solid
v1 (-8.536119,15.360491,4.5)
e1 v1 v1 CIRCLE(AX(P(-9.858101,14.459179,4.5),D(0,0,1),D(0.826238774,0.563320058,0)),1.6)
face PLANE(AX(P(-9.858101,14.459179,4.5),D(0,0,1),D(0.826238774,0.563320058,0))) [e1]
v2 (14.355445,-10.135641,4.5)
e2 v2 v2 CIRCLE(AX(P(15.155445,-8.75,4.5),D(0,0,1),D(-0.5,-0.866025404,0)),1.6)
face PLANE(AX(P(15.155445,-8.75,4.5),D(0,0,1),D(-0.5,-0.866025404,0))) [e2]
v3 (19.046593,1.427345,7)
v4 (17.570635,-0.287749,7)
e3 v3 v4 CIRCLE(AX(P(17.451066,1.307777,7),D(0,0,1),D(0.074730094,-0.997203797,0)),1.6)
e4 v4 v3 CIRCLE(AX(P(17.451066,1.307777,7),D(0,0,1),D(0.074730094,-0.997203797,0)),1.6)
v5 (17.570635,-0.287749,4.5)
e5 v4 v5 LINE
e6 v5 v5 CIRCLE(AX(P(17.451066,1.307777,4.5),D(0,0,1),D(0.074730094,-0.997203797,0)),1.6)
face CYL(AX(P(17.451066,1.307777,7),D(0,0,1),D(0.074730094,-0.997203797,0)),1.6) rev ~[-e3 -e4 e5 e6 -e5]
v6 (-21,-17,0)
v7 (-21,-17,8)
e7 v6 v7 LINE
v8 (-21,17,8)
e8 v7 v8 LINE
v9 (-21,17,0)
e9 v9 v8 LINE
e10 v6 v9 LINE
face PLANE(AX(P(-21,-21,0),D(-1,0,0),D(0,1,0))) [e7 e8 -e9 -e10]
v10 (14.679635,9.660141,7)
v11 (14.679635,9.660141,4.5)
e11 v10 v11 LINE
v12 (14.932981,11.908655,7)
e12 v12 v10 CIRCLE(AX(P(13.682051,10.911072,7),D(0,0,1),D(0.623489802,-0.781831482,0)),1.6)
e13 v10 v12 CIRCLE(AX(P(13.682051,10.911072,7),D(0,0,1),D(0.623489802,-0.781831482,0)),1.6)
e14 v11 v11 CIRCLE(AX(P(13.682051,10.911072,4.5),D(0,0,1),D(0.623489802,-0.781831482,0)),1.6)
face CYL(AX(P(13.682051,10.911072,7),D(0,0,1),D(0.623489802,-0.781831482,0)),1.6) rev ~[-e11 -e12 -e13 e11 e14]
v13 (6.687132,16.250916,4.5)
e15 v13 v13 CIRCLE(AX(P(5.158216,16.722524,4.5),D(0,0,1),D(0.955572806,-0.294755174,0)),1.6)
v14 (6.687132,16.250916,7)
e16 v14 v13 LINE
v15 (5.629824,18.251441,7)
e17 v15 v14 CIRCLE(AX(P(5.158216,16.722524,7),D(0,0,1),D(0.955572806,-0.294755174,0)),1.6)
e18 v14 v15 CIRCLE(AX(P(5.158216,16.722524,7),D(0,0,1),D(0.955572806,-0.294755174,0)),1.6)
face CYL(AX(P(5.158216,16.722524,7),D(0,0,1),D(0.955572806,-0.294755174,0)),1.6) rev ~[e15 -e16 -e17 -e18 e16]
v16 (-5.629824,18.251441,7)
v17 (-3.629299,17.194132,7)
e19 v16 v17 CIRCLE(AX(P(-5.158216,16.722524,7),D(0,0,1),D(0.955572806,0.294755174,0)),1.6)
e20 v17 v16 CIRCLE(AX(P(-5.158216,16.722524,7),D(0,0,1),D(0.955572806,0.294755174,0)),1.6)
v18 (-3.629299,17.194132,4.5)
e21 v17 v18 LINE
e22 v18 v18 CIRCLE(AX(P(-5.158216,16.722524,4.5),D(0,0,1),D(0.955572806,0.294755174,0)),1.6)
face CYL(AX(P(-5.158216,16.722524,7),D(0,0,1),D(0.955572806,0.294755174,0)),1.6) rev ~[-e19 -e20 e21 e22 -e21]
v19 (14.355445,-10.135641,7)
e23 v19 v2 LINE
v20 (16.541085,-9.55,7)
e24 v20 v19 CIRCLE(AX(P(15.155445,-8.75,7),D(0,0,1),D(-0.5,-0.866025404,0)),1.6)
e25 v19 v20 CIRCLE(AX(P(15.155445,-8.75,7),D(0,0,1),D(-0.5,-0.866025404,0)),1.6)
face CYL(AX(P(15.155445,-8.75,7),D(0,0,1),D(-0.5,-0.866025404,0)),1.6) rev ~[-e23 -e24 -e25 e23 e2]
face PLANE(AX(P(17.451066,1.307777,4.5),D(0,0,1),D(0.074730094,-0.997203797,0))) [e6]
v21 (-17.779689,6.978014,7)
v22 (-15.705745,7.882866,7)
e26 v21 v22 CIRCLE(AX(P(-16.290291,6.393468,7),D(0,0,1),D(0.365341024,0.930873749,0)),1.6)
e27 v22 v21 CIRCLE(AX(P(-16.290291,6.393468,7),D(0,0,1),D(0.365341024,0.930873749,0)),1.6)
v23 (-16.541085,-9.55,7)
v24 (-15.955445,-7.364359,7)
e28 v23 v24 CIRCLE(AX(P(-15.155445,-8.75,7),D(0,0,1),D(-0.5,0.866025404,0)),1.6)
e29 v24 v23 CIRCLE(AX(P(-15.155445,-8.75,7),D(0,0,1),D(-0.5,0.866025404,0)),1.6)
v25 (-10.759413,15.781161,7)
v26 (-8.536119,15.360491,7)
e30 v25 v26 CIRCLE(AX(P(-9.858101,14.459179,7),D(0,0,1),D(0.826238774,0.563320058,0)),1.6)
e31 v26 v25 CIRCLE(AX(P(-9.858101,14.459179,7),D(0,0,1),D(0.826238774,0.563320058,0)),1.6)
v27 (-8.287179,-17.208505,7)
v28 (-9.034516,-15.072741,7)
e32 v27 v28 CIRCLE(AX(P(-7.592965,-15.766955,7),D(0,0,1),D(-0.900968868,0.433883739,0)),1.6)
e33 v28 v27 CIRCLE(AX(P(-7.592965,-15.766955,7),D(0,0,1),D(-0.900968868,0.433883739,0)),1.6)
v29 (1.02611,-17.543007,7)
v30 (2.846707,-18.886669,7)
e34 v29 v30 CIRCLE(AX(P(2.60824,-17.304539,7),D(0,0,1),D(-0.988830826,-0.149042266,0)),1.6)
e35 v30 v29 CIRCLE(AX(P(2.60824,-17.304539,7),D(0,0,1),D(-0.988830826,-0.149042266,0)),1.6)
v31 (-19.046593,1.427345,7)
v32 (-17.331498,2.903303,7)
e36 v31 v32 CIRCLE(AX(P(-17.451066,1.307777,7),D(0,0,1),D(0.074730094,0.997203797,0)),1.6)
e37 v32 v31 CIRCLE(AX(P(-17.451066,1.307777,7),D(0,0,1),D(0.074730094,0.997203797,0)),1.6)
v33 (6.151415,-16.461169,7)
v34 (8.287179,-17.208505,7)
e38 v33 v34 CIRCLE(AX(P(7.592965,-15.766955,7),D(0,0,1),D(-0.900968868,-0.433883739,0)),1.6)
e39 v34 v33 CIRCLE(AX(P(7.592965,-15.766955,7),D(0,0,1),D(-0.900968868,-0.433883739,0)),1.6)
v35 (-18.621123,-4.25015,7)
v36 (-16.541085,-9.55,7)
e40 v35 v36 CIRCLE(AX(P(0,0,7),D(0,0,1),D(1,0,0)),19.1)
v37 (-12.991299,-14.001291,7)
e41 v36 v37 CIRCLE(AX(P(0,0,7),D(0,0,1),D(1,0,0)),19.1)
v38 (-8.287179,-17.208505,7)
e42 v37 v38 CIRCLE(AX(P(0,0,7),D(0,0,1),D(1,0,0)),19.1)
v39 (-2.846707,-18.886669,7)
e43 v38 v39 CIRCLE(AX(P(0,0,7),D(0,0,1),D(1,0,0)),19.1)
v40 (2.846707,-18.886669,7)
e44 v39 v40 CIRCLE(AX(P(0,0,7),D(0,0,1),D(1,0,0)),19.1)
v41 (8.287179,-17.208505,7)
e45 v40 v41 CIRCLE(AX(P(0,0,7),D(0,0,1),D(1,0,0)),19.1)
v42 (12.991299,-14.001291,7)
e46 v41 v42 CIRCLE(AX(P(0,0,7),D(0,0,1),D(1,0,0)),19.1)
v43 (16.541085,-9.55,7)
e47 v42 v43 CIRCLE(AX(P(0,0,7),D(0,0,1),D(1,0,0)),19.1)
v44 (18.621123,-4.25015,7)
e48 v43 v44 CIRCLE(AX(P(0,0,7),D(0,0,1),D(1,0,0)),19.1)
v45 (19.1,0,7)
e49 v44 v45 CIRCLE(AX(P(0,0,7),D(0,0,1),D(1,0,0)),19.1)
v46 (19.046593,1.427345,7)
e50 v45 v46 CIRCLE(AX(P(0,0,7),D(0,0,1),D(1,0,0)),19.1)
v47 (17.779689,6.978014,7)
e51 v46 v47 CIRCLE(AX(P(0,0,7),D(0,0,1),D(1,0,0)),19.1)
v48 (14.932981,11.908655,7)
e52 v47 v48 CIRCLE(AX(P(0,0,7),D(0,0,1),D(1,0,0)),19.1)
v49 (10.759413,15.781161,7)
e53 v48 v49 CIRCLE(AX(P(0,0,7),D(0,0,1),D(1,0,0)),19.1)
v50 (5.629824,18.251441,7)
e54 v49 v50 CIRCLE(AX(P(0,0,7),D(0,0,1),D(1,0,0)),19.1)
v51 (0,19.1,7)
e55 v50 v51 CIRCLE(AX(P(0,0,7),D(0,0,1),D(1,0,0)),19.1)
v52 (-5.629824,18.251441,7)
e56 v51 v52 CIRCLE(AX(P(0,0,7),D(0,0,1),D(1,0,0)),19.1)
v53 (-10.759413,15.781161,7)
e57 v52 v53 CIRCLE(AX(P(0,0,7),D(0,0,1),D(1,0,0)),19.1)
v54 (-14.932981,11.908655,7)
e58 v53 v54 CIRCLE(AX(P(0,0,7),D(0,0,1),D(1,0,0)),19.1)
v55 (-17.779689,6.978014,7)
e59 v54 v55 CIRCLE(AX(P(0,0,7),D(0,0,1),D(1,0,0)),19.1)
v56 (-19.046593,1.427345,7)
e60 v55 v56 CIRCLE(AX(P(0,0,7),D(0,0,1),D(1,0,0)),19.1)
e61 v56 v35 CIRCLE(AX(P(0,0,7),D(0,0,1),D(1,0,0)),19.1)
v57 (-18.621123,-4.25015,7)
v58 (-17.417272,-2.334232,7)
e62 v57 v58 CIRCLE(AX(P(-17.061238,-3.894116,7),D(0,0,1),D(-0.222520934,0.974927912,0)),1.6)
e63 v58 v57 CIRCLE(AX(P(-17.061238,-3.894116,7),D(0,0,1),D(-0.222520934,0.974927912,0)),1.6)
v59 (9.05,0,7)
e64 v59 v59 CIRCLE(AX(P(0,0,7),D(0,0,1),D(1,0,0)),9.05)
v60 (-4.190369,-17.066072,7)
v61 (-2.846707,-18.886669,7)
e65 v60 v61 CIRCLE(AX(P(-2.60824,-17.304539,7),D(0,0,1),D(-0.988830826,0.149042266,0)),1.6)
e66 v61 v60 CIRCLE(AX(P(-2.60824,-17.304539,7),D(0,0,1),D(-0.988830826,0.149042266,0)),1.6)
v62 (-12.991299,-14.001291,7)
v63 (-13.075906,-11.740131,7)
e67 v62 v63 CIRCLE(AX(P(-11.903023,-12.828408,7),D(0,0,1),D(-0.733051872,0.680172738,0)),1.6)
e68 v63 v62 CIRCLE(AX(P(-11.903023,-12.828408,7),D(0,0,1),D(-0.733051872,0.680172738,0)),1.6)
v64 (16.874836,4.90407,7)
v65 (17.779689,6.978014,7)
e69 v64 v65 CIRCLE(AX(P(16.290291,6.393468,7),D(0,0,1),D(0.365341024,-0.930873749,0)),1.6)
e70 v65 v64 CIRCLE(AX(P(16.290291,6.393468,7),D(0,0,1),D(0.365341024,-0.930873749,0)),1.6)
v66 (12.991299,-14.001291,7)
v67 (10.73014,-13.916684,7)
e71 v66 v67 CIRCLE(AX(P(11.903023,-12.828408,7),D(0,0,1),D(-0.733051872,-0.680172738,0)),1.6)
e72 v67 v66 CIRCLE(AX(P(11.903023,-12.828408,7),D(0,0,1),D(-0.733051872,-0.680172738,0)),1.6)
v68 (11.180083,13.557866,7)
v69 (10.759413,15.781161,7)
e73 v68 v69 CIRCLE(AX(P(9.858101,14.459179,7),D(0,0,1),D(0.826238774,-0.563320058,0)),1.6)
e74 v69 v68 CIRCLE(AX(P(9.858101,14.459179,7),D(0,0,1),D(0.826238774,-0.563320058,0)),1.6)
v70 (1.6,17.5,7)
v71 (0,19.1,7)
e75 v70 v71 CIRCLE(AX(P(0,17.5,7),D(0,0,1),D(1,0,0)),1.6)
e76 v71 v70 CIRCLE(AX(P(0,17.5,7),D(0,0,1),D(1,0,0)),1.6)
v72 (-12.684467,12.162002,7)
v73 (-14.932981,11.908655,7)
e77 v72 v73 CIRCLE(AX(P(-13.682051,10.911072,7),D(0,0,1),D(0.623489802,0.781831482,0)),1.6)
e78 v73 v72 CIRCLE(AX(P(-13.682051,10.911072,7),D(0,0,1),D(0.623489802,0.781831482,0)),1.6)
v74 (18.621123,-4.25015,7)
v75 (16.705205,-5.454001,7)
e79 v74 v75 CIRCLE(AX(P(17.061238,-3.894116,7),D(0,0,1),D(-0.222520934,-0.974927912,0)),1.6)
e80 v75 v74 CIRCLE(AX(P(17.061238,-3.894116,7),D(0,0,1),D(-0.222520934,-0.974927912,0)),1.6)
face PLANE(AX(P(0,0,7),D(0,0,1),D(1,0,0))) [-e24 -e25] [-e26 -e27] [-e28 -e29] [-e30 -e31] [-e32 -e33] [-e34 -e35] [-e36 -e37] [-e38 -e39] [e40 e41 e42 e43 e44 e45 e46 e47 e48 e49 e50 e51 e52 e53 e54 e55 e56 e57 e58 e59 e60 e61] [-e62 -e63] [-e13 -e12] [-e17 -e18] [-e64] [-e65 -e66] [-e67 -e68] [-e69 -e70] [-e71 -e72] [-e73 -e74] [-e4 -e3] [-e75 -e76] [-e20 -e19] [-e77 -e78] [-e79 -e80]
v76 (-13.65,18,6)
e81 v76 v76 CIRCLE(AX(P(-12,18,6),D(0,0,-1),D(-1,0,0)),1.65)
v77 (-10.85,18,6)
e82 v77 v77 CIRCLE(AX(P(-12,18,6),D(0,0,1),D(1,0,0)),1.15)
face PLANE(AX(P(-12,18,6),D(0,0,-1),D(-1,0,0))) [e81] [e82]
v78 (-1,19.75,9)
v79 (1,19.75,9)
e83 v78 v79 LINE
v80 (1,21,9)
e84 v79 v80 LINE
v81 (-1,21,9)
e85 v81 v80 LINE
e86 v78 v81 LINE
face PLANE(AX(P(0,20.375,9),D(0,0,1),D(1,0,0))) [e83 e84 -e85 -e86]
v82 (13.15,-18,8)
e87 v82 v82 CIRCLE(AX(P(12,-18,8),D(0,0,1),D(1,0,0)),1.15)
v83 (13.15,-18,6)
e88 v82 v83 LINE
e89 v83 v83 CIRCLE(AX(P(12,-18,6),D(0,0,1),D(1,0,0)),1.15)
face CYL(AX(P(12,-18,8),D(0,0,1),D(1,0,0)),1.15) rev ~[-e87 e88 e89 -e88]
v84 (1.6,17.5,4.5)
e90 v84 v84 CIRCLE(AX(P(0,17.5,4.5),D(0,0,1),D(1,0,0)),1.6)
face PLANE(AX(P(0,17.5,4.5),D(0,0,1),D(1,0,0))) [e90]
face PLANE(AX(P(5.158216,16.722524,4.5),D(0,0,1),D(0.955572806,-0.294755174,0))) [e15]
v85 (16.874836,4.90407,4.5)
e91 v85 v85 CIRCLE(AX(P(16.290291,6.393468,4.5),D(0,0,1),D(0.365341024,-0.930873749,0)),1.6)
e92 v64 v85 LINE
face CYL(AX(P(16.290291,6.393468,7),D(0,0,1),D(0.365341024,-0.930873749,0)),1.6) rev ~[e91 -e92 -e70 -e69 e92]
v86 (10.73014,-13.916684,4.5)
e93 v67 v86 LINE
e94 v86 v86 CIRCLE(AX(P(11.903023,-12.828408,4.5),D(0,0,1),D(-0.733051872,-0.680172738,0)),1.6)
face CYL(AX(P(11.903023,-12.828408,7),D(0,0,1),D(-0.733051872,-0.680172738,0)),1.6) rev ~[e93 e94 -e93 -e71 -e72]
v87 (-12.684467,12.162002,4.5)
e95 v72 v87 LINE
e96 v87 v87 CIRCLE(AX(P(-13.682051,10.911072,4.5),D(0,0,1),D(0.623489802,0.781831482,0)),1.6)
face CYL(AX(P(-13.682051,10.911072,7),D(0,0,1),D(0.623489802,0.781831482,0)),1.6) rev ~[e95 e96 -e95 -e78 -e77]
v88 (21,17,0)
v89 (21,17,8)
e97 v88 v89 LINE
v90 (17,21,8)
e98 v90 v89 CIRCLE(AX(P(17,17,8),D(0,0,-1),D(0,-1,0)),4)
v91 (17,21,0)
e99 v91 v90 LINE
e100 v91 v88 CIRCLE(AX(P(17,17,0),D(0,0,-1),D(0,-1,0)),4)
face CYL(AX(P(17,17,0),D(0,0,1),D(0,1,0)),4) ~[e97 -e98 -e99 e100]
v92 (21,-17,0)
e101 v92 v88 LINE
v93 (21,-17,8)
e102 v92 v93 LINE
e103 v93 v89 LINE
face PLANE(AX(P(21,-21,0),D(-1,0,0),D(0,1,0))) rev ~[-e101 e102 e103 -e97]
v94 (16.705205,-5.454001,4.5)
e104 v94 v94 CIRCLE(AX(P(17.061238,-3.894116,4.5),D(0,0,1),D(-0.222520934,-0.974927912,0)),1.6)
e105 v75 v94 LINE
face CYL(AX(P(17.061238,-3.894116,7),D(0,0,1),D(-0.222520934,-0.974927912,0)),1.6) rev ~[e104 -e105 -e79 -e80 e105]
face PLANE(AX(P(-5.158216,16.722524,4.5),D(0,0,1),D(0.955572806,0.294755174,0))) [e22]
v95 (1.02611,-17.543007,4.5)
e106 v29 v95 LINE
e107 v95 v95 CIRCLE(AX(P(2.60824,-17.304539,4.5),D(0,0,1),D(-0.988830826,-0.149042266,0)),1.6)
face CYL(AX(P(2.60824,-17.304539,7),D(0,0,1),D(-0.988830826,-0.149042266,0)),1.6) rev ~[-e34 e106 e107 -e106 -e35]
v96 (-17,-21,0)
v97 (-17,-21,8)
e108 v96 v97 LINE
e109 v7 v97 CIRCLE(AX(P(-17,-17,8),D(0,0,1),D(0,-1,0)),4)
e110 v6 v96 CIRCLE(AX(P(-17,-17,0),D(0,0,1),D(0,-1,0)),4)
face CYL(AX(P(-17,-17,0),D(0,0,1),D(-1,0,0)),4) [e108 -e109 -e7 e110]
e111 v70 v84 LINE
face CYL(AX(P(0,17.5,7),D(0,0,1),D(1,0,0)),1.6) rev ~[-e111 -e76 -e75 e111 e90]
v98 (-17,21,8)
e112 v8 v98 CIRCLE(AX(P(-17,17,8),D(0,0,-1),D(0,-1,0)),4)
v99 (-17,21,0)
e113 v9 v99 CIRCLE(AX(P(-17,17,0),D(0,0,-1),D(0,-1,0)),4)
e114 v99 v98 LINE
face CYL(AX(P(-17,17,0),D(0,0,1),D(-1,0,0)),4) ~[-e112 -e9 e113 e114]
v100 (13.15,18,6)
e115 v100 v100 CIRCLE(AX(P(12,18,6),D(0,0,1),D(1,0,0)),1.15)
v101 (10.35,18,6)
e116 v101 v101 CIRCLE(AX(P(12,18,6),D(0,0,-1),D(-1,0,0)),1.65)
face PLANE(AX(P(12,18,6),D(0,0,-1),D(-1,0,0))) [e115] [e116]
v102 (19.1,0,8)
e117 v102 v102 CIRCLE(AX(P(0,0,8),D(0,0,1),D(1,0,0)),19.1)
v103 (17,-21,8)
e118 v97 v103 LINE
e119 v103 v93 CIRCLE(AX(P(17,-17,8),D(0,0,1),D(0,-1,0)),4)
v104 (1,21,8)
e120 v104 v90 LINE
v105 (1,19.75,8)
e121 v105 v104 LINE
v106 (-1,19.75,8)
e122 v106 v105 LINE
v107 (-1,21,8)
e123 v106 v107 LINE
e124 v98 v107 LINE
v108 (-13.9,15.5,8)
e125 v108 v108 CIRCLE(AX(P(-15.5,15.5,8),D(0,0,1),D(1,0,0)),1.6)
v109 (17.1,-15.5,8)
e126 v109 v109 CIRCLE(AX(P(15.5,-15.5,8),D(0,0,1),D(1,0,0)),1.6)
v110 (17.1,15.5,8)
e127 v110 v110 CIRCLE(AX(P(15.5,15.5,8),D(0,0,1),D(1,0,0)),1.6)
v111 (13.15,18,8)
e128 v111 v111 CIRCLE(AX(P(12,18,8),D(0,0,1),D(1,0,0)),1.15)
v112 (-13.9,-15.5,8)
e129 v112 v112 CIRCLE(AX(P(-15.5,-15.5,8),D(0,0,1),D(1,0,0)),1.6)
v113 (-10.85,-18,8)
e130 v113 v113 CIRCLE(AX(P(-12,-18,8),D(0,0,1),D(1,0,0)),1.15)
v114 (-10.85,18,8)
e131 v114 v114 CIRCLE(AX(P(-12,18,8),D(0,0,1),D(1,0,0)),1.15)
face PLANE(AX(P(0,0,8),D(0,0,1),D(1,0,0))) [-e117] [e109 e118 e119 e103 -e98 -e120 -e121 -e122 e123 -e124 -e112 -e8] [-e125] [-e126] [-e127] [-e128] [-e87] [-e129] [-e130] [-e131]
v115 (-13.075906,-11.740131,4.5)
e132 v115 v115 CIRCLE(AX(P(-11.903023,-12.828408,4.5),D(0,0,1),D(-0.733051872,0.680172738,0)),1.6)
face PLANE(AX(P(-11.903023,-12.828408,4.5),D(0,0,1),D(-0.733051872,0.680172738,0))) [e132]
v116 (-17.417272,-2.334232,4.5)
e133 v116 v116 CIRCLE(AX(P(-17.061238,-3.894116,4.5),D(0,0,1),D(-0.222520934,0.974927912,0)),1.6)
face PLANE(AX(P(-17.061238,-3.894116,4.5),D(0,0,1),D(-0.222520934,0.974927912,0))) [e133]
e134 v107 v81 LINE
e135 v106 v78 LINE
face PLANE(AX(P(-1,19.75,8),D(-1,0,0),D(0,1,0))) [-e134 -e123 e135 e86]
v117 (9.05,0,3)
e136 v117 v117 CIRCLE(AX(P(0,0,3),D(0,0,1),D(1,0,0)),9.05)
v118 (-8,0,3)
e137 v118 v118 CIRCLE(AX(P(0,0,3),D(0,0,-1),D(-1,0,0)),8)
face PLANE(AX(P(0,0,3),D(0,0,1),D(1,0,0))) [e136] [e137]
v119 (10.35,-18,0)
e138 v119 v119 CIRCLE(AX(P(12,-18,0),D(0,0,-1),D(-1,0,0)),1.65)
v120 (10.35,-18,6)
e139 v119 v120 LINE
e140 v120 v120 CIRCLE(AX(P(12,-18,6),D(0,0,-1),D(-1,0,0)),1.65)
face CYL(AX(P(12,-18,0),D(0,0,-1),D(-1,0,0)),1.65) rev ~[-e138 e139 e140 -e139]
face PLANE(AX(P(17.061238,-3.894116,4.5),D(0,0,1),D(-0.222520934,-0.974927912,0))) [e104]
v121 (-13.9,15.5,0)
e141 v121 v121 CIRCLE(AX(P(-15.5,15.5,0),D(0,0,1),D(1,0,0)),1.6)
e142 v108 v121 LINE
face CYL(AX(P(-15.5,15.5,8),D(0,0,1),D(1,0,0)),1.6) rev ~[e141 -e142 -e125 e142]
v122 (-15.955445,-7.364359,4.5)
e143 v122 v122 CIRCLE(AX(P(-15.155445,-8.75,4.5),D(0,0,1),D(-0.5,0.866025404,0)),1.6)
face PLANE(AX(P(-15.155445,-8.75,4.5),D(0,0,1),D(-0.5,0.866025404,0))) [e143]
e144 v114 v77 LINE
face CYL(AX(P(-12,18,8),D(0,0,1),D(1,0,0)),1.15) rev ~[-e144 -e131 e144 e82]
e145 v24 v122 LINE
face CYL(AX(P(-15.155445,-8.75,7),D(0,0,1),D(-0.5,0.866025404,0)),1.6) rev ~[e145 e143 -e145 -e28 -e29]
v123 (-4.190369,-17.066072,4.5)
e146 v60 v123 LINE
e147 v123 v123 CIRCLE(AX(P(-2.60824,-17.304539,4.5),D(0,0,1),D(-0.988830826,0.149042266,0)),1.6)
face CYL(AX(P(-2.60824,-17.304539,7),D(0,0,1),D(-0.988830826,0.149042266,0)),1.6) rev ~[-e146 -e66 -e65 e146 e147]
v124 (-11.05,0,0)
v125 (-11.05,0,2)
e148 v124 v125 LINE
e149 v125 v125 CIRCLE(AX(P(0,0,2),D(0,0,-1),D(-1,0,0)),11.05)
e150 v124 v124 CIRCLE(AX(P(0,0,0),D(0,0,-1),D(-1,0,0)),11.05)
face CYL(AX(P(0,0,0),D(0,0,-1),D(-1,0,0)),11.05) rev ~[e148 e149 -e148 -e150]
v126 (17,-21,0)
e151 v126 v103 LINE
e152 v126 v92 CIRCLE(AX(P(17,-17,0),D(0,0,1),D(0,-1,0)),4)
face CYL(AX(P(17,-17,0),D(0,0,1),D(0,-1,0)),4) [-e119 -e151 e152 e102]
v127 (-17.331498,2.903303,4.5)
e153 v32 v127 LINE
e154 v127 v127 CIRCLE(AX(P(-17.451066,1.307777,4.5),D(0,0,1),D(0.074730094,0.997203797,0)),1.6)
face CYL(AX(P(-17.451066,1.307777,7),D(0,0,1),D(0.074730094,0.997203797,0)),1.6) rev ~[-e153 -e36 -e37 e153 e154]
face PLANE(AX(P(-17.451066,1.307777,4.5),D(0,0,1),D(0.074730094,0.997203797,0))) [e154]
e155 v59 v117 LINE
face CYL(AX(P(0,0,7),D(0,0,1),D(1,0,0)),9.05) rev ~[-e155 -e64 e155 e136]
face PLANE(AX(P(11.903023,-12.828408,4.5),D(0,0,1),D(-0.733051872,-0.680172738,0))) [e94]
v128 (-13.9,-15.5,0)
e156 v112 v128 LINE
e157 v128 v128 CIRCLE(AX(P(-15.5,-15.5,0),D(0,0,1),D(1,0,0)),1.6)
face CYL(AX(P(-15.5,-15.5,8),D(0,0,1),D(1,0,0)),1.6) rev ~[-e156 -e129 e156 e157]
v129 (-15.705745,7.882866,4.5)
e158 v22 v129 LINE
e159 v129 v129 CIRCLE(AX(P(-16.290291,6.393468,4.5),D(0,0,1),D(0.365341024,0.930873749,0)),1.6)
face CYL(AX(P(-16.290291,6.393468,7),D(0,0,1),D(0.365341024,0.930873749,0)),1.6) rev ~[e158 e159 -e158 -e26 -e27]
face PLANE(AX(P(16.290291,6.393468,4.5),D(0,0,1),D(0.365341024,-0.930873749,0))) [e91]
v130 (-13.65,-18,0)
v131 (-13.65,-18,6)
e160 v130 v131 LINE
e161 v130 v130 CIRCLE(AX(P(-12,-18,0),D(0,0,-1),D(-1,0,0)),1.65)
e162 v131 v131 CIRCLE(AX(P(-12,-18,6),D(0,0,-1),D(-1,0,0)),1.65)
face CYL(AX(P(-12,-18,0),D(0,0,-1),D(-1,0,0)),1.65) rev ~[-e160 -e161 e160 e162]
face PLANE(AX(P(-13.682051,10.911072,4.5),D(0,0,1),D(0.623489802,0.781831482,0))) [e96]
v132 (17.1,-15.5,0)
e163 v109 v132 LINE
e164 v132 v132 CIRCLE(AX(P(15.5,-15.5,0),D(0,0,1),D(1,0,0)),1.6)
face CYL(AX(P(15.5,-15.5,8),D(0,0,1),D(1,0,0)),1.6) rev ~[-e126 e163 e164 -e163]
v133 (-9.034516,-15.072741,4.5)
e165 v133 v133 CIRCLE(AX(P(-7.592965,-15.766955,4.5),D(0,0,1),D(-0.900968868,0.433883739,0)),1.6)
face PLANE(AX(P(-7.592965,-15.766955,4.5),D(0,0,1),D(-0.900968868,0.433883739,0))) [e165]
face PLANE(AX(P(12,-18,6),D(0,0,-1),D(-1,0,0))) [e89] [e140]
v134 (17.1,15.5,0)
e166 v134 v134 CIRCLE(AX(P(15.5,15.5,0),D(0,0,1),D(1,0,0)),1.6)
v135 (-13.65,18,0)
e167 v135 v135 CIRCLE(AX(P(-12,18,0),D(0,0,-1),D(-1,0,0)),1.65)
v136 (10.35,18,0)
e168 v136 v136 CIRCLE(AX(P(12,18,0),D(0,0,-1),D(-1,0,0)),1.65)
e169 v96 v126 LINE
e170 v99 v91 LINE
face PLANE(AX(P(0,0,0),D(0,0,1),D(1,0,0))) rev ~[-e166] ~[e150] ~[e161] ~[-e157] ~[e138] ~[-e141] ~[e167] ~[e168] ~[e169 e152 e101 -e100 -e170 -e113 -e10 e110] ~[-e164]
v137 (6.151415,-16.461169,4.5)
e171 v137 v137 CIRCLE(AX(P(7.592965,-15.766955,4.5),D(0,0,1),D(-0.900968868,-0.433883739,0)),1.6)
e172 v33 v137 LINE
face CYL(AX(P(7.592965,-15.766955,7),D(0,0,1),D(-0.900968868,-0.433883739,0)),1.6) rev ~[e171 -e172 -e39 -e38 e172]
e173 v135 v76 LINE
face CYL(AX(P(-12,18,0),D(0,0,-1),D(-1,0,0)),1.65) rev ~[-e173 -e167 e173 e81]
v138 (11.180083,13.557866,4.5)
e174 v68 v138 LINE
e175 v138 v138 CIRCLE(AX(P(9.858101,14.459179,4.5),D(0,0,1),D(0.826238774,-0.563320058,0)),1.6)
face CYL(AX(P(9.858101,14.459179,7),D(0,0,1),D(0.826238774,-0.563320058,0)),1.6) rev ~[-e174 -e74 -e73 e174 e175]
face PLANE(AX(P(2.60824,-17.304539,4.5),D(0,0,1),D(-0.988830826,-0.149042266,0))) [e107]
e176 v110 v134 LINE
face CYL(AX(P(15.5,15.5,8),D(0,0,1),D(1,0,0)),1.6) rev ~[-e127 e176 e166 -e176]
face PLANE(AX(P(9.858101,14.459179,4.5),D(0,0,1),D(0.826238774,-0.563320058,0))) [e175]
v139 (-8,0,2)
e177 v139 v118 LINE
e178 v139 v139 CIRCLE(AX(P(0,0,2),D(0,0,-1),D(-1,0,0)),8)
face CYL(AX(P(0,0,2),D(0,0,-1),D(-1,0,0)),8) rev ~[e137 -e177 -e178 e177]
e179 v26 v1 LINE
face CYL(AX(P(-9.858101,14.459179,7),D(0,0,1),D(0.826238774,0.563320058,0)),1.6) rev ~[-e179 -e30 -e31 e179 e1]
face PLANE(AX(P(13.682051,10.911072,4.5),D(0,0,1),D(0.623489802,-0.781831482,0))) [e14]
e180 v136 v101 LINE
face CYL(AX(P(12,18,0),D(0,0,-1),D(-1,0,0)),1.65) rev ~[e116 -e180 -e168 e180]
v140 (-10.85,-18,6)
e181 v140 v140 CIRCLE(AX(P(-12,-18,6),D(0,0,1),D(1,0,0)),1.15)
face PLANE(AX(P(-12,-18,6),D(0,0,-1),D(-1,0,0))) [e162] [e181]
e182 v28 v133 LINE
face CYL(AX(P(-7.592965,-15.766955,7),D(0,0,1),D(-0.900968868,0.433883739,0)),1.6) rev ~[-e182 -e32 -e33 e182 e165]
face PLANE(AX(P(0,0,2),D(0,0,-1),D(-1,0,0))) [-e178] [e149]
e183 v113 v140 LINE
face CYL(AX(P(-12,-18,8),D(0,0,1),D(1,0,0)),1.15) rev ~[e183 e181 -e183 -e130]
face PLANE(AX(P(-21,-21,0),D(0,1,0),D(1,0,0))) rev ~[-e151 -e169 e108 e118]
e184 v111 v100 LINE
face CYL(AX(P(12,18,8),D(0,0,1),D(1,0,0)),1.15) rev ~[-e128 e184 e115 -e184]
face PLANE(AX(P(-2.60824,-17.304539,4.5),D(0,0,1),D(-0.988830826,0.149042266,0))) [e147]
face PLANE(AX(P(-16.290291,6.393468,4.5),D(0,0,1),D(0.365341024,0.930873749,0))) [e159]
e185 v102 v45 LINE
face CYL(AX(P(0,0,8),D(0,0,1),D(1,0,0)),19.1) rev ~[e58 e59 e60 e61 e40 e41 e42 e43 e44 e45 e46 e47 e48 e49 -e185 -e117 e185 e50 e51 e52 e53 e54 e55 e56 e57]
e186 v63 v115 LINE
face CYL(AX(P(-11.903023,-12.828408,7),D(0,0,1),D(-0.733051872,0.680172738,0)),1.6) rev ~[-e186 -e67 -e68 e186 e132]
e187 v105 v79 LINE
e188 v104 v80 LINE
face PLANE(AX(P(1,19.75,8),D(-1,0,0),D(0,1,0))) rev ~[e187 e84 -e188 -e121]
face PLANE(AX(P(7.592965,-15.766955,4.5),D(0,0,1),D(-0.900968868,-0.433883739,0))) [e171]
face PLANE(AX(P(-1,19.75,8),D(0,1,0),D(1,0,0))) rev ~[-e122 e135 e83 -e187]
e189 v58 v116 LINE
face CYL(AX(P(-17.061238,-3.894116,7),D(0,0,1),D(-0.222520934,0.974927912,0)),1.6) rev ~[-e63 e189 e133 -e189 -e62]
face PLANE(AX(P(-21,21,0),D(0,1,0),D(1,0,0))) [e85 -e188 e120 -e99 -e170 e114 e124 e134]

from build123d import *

# Parameters (mm, degrees)
SKETCH_1_W               = 42
SKETCH_1_H               = 42
EXTRUDE_1_DEPTH          = 8
SKETCH_2_R               = 19.1
CUT_EXTRUDE_1_DEPTH      = 1
SKETCH_3_R               = 1.6
CUT_EXTRUDE_2_DEPTH      = 2.5
PATTERN_CIRCULAR_1_COUNT = 21
SKETCH_4_R               = 9.05
CUT_EXTRUDE_3_DEPTH      = 4
SKETCH_5_R               = 11.05
CUT_EXTRUDE_4_DEPTH      = 2
SKETCH_6_R               = 8
CUT_EXTRUDE_5_DEPTH      = 7
FILLET_1_R               = 4
SKETCH_8_R               = 1.15
SKETCH_8_R_2             = 1.6
CUT_EXTRUDE_6_DEPTH      = 9
SKETCH_9_R               = 1.65
CUT_EXTRUDE_7_DEPTH      = 6
SKETCH_10_W              = 2
SKETCH_10_H              = 1.25
EXTRUDE_2_DEPTH          = 1


with BuildPart() as part:
    # 草图1 → 凸台-拉伸1 (new body)
    with BuildSketch(Plane.XY):
        Rectangle(SKETCH_1_W, SKETCH_1_H)
    extrude(amount=EXTRUDE_1_DEPTH)

    # 草图2 → 切除-拉伸1 (cut)
    with BuildSketch(Plane.XY.offset(8)):
        Circle(SKETCH_2_R)
    extrude(amount=-CUT_EXTRUDE_1_DEPTH, mode=Mode.SUBTRACT)

    # 草图3 → 切除-拉伸2 (cut)
    with BuildSketch(Plane.XY.offset(7)):
        with Locations((0, 17.5)):
            Circle(SKETCH_3_R)
    cut_extrude_2 = extrude(amount=-CUT_EXTRUDE_2_DEPTH, mode=Mode.SUBTRACT)

    # 阵列(圆周)1: 切除-拉伸2 ×21 about axis
    pattern_circular_1_axis = Axis((0, 0, 0), (0, 0, 1))
    for i in range(1, PATTERN_CIRCULAR_1_COUNT):
        add(cut_extrude_2.rotate(pattern_circular_1_axis, i * 360 / PATTERN_CIRCULAR_1_COUNT), mode=Mode.SUBTRACT)

    # 草图4 → 切除-拉伸3 (cut)
    with BuildSketch(Plane.XY.offset(7)):
        Circle(SKETCH_4_R)
    extrude(amount=-CUT_EXTRUDE_3_DEPTH, mode=Mode.SUBTRACT)

    # 草图5 → 切除-拉伸4 (cut)
    with BuildSketch(Plane(origin=(0, 0, 0), x_dir=(-1, 0, 0), z_dir=(0, 0, -1))):
        Circle(SKETCH_5_R)
    extrude(amount=-CUT_EXTRUDE_4_DEPTH, mode=Mode.SUBTRACT)

    # 草图6 → 切除-拉伸5 (cut, through all)
    with BuildSketch(Plane(origin=(0, 0, 2), x_dir=(-1, 0, 0), z_dir=(0, 0, -1))):
        Circle(SKETCH_6_R)
    extrude(amount=-CUT_EXTRUDE_5_DEPTH, mode=Mode.SUBTRACT)

    # 圆角1
    fillet_1_edges = [part.edges().sort_by_distance(p)[0] for p in [
        (21, -21, 4),
        (-21, -21, 4),
        (-21, 21, 4),
        (21, 21, 4),
    ]]
    fillet(fillet_1_edges, radius=FILLET_1_R)

    # 草图8 → 切除-拉伸6 (cut, through all)
    with BuildSketch(Plane.XY.offset(8)):
        with Locations((-12, 18)):
            Circle(SKETCH_8_R)
        with Locations((-15.5, 15.5)):
            Circle(SKETCH_8_R_2)
        with Locations((15.5, 15.5)):
            Circle(SKETCH_8_R_2)
        with Locations((12, 18)):
            Circle(SKETCH_8_R)
        with Locations((15.5, -15.5)):
            Circle(SKETCH_8_R_2)
        with Locations((12, -18)):
            Circle(SKETCH_8_R)
        with Locations((-12, -18)):
            Circle(SKETCH_8_R)
        with Locations((-15.5, -15.5)):
            Circle(SKETCH_8_R_2)
    extrude(amount=-CUT_EXTRUDE_6_DEPTH, mode=Mode.SUBTRACT)

    # 草图9 → 切除-拉伸7 (cut)
    with BuildSketch(Plane(origin=(0, 0, 0), x_dir=(-1, 0, 0), z_dir=(0, 0, -1))):
        with Locations((-12, 18)):
            Circle(SKETCH_9_R)
        with Locations((12, 18)):
            Circle(SKETCH_9_R)
        with Locations((-12, -18)):
            Circle(SKETCH_9_R)
        with Locations((12, -18)):
            Circle(SKETCH_9_R)
    extrude(amount=-CUT_EXTRUDE_7_DEPTH, mode=Mode.SUBTRACT)

    # 草图10 → 凸台-拉伸2 (add)
    with BuildSketch(Plane.XY.offset(8)):
        with Locations((0, 20.375)):
            Rectangle(SKETCH_10_W, SKETCH_10_H)
    extrude(amount=EXTRUDE_2_DEPTH)


solid = part.part
